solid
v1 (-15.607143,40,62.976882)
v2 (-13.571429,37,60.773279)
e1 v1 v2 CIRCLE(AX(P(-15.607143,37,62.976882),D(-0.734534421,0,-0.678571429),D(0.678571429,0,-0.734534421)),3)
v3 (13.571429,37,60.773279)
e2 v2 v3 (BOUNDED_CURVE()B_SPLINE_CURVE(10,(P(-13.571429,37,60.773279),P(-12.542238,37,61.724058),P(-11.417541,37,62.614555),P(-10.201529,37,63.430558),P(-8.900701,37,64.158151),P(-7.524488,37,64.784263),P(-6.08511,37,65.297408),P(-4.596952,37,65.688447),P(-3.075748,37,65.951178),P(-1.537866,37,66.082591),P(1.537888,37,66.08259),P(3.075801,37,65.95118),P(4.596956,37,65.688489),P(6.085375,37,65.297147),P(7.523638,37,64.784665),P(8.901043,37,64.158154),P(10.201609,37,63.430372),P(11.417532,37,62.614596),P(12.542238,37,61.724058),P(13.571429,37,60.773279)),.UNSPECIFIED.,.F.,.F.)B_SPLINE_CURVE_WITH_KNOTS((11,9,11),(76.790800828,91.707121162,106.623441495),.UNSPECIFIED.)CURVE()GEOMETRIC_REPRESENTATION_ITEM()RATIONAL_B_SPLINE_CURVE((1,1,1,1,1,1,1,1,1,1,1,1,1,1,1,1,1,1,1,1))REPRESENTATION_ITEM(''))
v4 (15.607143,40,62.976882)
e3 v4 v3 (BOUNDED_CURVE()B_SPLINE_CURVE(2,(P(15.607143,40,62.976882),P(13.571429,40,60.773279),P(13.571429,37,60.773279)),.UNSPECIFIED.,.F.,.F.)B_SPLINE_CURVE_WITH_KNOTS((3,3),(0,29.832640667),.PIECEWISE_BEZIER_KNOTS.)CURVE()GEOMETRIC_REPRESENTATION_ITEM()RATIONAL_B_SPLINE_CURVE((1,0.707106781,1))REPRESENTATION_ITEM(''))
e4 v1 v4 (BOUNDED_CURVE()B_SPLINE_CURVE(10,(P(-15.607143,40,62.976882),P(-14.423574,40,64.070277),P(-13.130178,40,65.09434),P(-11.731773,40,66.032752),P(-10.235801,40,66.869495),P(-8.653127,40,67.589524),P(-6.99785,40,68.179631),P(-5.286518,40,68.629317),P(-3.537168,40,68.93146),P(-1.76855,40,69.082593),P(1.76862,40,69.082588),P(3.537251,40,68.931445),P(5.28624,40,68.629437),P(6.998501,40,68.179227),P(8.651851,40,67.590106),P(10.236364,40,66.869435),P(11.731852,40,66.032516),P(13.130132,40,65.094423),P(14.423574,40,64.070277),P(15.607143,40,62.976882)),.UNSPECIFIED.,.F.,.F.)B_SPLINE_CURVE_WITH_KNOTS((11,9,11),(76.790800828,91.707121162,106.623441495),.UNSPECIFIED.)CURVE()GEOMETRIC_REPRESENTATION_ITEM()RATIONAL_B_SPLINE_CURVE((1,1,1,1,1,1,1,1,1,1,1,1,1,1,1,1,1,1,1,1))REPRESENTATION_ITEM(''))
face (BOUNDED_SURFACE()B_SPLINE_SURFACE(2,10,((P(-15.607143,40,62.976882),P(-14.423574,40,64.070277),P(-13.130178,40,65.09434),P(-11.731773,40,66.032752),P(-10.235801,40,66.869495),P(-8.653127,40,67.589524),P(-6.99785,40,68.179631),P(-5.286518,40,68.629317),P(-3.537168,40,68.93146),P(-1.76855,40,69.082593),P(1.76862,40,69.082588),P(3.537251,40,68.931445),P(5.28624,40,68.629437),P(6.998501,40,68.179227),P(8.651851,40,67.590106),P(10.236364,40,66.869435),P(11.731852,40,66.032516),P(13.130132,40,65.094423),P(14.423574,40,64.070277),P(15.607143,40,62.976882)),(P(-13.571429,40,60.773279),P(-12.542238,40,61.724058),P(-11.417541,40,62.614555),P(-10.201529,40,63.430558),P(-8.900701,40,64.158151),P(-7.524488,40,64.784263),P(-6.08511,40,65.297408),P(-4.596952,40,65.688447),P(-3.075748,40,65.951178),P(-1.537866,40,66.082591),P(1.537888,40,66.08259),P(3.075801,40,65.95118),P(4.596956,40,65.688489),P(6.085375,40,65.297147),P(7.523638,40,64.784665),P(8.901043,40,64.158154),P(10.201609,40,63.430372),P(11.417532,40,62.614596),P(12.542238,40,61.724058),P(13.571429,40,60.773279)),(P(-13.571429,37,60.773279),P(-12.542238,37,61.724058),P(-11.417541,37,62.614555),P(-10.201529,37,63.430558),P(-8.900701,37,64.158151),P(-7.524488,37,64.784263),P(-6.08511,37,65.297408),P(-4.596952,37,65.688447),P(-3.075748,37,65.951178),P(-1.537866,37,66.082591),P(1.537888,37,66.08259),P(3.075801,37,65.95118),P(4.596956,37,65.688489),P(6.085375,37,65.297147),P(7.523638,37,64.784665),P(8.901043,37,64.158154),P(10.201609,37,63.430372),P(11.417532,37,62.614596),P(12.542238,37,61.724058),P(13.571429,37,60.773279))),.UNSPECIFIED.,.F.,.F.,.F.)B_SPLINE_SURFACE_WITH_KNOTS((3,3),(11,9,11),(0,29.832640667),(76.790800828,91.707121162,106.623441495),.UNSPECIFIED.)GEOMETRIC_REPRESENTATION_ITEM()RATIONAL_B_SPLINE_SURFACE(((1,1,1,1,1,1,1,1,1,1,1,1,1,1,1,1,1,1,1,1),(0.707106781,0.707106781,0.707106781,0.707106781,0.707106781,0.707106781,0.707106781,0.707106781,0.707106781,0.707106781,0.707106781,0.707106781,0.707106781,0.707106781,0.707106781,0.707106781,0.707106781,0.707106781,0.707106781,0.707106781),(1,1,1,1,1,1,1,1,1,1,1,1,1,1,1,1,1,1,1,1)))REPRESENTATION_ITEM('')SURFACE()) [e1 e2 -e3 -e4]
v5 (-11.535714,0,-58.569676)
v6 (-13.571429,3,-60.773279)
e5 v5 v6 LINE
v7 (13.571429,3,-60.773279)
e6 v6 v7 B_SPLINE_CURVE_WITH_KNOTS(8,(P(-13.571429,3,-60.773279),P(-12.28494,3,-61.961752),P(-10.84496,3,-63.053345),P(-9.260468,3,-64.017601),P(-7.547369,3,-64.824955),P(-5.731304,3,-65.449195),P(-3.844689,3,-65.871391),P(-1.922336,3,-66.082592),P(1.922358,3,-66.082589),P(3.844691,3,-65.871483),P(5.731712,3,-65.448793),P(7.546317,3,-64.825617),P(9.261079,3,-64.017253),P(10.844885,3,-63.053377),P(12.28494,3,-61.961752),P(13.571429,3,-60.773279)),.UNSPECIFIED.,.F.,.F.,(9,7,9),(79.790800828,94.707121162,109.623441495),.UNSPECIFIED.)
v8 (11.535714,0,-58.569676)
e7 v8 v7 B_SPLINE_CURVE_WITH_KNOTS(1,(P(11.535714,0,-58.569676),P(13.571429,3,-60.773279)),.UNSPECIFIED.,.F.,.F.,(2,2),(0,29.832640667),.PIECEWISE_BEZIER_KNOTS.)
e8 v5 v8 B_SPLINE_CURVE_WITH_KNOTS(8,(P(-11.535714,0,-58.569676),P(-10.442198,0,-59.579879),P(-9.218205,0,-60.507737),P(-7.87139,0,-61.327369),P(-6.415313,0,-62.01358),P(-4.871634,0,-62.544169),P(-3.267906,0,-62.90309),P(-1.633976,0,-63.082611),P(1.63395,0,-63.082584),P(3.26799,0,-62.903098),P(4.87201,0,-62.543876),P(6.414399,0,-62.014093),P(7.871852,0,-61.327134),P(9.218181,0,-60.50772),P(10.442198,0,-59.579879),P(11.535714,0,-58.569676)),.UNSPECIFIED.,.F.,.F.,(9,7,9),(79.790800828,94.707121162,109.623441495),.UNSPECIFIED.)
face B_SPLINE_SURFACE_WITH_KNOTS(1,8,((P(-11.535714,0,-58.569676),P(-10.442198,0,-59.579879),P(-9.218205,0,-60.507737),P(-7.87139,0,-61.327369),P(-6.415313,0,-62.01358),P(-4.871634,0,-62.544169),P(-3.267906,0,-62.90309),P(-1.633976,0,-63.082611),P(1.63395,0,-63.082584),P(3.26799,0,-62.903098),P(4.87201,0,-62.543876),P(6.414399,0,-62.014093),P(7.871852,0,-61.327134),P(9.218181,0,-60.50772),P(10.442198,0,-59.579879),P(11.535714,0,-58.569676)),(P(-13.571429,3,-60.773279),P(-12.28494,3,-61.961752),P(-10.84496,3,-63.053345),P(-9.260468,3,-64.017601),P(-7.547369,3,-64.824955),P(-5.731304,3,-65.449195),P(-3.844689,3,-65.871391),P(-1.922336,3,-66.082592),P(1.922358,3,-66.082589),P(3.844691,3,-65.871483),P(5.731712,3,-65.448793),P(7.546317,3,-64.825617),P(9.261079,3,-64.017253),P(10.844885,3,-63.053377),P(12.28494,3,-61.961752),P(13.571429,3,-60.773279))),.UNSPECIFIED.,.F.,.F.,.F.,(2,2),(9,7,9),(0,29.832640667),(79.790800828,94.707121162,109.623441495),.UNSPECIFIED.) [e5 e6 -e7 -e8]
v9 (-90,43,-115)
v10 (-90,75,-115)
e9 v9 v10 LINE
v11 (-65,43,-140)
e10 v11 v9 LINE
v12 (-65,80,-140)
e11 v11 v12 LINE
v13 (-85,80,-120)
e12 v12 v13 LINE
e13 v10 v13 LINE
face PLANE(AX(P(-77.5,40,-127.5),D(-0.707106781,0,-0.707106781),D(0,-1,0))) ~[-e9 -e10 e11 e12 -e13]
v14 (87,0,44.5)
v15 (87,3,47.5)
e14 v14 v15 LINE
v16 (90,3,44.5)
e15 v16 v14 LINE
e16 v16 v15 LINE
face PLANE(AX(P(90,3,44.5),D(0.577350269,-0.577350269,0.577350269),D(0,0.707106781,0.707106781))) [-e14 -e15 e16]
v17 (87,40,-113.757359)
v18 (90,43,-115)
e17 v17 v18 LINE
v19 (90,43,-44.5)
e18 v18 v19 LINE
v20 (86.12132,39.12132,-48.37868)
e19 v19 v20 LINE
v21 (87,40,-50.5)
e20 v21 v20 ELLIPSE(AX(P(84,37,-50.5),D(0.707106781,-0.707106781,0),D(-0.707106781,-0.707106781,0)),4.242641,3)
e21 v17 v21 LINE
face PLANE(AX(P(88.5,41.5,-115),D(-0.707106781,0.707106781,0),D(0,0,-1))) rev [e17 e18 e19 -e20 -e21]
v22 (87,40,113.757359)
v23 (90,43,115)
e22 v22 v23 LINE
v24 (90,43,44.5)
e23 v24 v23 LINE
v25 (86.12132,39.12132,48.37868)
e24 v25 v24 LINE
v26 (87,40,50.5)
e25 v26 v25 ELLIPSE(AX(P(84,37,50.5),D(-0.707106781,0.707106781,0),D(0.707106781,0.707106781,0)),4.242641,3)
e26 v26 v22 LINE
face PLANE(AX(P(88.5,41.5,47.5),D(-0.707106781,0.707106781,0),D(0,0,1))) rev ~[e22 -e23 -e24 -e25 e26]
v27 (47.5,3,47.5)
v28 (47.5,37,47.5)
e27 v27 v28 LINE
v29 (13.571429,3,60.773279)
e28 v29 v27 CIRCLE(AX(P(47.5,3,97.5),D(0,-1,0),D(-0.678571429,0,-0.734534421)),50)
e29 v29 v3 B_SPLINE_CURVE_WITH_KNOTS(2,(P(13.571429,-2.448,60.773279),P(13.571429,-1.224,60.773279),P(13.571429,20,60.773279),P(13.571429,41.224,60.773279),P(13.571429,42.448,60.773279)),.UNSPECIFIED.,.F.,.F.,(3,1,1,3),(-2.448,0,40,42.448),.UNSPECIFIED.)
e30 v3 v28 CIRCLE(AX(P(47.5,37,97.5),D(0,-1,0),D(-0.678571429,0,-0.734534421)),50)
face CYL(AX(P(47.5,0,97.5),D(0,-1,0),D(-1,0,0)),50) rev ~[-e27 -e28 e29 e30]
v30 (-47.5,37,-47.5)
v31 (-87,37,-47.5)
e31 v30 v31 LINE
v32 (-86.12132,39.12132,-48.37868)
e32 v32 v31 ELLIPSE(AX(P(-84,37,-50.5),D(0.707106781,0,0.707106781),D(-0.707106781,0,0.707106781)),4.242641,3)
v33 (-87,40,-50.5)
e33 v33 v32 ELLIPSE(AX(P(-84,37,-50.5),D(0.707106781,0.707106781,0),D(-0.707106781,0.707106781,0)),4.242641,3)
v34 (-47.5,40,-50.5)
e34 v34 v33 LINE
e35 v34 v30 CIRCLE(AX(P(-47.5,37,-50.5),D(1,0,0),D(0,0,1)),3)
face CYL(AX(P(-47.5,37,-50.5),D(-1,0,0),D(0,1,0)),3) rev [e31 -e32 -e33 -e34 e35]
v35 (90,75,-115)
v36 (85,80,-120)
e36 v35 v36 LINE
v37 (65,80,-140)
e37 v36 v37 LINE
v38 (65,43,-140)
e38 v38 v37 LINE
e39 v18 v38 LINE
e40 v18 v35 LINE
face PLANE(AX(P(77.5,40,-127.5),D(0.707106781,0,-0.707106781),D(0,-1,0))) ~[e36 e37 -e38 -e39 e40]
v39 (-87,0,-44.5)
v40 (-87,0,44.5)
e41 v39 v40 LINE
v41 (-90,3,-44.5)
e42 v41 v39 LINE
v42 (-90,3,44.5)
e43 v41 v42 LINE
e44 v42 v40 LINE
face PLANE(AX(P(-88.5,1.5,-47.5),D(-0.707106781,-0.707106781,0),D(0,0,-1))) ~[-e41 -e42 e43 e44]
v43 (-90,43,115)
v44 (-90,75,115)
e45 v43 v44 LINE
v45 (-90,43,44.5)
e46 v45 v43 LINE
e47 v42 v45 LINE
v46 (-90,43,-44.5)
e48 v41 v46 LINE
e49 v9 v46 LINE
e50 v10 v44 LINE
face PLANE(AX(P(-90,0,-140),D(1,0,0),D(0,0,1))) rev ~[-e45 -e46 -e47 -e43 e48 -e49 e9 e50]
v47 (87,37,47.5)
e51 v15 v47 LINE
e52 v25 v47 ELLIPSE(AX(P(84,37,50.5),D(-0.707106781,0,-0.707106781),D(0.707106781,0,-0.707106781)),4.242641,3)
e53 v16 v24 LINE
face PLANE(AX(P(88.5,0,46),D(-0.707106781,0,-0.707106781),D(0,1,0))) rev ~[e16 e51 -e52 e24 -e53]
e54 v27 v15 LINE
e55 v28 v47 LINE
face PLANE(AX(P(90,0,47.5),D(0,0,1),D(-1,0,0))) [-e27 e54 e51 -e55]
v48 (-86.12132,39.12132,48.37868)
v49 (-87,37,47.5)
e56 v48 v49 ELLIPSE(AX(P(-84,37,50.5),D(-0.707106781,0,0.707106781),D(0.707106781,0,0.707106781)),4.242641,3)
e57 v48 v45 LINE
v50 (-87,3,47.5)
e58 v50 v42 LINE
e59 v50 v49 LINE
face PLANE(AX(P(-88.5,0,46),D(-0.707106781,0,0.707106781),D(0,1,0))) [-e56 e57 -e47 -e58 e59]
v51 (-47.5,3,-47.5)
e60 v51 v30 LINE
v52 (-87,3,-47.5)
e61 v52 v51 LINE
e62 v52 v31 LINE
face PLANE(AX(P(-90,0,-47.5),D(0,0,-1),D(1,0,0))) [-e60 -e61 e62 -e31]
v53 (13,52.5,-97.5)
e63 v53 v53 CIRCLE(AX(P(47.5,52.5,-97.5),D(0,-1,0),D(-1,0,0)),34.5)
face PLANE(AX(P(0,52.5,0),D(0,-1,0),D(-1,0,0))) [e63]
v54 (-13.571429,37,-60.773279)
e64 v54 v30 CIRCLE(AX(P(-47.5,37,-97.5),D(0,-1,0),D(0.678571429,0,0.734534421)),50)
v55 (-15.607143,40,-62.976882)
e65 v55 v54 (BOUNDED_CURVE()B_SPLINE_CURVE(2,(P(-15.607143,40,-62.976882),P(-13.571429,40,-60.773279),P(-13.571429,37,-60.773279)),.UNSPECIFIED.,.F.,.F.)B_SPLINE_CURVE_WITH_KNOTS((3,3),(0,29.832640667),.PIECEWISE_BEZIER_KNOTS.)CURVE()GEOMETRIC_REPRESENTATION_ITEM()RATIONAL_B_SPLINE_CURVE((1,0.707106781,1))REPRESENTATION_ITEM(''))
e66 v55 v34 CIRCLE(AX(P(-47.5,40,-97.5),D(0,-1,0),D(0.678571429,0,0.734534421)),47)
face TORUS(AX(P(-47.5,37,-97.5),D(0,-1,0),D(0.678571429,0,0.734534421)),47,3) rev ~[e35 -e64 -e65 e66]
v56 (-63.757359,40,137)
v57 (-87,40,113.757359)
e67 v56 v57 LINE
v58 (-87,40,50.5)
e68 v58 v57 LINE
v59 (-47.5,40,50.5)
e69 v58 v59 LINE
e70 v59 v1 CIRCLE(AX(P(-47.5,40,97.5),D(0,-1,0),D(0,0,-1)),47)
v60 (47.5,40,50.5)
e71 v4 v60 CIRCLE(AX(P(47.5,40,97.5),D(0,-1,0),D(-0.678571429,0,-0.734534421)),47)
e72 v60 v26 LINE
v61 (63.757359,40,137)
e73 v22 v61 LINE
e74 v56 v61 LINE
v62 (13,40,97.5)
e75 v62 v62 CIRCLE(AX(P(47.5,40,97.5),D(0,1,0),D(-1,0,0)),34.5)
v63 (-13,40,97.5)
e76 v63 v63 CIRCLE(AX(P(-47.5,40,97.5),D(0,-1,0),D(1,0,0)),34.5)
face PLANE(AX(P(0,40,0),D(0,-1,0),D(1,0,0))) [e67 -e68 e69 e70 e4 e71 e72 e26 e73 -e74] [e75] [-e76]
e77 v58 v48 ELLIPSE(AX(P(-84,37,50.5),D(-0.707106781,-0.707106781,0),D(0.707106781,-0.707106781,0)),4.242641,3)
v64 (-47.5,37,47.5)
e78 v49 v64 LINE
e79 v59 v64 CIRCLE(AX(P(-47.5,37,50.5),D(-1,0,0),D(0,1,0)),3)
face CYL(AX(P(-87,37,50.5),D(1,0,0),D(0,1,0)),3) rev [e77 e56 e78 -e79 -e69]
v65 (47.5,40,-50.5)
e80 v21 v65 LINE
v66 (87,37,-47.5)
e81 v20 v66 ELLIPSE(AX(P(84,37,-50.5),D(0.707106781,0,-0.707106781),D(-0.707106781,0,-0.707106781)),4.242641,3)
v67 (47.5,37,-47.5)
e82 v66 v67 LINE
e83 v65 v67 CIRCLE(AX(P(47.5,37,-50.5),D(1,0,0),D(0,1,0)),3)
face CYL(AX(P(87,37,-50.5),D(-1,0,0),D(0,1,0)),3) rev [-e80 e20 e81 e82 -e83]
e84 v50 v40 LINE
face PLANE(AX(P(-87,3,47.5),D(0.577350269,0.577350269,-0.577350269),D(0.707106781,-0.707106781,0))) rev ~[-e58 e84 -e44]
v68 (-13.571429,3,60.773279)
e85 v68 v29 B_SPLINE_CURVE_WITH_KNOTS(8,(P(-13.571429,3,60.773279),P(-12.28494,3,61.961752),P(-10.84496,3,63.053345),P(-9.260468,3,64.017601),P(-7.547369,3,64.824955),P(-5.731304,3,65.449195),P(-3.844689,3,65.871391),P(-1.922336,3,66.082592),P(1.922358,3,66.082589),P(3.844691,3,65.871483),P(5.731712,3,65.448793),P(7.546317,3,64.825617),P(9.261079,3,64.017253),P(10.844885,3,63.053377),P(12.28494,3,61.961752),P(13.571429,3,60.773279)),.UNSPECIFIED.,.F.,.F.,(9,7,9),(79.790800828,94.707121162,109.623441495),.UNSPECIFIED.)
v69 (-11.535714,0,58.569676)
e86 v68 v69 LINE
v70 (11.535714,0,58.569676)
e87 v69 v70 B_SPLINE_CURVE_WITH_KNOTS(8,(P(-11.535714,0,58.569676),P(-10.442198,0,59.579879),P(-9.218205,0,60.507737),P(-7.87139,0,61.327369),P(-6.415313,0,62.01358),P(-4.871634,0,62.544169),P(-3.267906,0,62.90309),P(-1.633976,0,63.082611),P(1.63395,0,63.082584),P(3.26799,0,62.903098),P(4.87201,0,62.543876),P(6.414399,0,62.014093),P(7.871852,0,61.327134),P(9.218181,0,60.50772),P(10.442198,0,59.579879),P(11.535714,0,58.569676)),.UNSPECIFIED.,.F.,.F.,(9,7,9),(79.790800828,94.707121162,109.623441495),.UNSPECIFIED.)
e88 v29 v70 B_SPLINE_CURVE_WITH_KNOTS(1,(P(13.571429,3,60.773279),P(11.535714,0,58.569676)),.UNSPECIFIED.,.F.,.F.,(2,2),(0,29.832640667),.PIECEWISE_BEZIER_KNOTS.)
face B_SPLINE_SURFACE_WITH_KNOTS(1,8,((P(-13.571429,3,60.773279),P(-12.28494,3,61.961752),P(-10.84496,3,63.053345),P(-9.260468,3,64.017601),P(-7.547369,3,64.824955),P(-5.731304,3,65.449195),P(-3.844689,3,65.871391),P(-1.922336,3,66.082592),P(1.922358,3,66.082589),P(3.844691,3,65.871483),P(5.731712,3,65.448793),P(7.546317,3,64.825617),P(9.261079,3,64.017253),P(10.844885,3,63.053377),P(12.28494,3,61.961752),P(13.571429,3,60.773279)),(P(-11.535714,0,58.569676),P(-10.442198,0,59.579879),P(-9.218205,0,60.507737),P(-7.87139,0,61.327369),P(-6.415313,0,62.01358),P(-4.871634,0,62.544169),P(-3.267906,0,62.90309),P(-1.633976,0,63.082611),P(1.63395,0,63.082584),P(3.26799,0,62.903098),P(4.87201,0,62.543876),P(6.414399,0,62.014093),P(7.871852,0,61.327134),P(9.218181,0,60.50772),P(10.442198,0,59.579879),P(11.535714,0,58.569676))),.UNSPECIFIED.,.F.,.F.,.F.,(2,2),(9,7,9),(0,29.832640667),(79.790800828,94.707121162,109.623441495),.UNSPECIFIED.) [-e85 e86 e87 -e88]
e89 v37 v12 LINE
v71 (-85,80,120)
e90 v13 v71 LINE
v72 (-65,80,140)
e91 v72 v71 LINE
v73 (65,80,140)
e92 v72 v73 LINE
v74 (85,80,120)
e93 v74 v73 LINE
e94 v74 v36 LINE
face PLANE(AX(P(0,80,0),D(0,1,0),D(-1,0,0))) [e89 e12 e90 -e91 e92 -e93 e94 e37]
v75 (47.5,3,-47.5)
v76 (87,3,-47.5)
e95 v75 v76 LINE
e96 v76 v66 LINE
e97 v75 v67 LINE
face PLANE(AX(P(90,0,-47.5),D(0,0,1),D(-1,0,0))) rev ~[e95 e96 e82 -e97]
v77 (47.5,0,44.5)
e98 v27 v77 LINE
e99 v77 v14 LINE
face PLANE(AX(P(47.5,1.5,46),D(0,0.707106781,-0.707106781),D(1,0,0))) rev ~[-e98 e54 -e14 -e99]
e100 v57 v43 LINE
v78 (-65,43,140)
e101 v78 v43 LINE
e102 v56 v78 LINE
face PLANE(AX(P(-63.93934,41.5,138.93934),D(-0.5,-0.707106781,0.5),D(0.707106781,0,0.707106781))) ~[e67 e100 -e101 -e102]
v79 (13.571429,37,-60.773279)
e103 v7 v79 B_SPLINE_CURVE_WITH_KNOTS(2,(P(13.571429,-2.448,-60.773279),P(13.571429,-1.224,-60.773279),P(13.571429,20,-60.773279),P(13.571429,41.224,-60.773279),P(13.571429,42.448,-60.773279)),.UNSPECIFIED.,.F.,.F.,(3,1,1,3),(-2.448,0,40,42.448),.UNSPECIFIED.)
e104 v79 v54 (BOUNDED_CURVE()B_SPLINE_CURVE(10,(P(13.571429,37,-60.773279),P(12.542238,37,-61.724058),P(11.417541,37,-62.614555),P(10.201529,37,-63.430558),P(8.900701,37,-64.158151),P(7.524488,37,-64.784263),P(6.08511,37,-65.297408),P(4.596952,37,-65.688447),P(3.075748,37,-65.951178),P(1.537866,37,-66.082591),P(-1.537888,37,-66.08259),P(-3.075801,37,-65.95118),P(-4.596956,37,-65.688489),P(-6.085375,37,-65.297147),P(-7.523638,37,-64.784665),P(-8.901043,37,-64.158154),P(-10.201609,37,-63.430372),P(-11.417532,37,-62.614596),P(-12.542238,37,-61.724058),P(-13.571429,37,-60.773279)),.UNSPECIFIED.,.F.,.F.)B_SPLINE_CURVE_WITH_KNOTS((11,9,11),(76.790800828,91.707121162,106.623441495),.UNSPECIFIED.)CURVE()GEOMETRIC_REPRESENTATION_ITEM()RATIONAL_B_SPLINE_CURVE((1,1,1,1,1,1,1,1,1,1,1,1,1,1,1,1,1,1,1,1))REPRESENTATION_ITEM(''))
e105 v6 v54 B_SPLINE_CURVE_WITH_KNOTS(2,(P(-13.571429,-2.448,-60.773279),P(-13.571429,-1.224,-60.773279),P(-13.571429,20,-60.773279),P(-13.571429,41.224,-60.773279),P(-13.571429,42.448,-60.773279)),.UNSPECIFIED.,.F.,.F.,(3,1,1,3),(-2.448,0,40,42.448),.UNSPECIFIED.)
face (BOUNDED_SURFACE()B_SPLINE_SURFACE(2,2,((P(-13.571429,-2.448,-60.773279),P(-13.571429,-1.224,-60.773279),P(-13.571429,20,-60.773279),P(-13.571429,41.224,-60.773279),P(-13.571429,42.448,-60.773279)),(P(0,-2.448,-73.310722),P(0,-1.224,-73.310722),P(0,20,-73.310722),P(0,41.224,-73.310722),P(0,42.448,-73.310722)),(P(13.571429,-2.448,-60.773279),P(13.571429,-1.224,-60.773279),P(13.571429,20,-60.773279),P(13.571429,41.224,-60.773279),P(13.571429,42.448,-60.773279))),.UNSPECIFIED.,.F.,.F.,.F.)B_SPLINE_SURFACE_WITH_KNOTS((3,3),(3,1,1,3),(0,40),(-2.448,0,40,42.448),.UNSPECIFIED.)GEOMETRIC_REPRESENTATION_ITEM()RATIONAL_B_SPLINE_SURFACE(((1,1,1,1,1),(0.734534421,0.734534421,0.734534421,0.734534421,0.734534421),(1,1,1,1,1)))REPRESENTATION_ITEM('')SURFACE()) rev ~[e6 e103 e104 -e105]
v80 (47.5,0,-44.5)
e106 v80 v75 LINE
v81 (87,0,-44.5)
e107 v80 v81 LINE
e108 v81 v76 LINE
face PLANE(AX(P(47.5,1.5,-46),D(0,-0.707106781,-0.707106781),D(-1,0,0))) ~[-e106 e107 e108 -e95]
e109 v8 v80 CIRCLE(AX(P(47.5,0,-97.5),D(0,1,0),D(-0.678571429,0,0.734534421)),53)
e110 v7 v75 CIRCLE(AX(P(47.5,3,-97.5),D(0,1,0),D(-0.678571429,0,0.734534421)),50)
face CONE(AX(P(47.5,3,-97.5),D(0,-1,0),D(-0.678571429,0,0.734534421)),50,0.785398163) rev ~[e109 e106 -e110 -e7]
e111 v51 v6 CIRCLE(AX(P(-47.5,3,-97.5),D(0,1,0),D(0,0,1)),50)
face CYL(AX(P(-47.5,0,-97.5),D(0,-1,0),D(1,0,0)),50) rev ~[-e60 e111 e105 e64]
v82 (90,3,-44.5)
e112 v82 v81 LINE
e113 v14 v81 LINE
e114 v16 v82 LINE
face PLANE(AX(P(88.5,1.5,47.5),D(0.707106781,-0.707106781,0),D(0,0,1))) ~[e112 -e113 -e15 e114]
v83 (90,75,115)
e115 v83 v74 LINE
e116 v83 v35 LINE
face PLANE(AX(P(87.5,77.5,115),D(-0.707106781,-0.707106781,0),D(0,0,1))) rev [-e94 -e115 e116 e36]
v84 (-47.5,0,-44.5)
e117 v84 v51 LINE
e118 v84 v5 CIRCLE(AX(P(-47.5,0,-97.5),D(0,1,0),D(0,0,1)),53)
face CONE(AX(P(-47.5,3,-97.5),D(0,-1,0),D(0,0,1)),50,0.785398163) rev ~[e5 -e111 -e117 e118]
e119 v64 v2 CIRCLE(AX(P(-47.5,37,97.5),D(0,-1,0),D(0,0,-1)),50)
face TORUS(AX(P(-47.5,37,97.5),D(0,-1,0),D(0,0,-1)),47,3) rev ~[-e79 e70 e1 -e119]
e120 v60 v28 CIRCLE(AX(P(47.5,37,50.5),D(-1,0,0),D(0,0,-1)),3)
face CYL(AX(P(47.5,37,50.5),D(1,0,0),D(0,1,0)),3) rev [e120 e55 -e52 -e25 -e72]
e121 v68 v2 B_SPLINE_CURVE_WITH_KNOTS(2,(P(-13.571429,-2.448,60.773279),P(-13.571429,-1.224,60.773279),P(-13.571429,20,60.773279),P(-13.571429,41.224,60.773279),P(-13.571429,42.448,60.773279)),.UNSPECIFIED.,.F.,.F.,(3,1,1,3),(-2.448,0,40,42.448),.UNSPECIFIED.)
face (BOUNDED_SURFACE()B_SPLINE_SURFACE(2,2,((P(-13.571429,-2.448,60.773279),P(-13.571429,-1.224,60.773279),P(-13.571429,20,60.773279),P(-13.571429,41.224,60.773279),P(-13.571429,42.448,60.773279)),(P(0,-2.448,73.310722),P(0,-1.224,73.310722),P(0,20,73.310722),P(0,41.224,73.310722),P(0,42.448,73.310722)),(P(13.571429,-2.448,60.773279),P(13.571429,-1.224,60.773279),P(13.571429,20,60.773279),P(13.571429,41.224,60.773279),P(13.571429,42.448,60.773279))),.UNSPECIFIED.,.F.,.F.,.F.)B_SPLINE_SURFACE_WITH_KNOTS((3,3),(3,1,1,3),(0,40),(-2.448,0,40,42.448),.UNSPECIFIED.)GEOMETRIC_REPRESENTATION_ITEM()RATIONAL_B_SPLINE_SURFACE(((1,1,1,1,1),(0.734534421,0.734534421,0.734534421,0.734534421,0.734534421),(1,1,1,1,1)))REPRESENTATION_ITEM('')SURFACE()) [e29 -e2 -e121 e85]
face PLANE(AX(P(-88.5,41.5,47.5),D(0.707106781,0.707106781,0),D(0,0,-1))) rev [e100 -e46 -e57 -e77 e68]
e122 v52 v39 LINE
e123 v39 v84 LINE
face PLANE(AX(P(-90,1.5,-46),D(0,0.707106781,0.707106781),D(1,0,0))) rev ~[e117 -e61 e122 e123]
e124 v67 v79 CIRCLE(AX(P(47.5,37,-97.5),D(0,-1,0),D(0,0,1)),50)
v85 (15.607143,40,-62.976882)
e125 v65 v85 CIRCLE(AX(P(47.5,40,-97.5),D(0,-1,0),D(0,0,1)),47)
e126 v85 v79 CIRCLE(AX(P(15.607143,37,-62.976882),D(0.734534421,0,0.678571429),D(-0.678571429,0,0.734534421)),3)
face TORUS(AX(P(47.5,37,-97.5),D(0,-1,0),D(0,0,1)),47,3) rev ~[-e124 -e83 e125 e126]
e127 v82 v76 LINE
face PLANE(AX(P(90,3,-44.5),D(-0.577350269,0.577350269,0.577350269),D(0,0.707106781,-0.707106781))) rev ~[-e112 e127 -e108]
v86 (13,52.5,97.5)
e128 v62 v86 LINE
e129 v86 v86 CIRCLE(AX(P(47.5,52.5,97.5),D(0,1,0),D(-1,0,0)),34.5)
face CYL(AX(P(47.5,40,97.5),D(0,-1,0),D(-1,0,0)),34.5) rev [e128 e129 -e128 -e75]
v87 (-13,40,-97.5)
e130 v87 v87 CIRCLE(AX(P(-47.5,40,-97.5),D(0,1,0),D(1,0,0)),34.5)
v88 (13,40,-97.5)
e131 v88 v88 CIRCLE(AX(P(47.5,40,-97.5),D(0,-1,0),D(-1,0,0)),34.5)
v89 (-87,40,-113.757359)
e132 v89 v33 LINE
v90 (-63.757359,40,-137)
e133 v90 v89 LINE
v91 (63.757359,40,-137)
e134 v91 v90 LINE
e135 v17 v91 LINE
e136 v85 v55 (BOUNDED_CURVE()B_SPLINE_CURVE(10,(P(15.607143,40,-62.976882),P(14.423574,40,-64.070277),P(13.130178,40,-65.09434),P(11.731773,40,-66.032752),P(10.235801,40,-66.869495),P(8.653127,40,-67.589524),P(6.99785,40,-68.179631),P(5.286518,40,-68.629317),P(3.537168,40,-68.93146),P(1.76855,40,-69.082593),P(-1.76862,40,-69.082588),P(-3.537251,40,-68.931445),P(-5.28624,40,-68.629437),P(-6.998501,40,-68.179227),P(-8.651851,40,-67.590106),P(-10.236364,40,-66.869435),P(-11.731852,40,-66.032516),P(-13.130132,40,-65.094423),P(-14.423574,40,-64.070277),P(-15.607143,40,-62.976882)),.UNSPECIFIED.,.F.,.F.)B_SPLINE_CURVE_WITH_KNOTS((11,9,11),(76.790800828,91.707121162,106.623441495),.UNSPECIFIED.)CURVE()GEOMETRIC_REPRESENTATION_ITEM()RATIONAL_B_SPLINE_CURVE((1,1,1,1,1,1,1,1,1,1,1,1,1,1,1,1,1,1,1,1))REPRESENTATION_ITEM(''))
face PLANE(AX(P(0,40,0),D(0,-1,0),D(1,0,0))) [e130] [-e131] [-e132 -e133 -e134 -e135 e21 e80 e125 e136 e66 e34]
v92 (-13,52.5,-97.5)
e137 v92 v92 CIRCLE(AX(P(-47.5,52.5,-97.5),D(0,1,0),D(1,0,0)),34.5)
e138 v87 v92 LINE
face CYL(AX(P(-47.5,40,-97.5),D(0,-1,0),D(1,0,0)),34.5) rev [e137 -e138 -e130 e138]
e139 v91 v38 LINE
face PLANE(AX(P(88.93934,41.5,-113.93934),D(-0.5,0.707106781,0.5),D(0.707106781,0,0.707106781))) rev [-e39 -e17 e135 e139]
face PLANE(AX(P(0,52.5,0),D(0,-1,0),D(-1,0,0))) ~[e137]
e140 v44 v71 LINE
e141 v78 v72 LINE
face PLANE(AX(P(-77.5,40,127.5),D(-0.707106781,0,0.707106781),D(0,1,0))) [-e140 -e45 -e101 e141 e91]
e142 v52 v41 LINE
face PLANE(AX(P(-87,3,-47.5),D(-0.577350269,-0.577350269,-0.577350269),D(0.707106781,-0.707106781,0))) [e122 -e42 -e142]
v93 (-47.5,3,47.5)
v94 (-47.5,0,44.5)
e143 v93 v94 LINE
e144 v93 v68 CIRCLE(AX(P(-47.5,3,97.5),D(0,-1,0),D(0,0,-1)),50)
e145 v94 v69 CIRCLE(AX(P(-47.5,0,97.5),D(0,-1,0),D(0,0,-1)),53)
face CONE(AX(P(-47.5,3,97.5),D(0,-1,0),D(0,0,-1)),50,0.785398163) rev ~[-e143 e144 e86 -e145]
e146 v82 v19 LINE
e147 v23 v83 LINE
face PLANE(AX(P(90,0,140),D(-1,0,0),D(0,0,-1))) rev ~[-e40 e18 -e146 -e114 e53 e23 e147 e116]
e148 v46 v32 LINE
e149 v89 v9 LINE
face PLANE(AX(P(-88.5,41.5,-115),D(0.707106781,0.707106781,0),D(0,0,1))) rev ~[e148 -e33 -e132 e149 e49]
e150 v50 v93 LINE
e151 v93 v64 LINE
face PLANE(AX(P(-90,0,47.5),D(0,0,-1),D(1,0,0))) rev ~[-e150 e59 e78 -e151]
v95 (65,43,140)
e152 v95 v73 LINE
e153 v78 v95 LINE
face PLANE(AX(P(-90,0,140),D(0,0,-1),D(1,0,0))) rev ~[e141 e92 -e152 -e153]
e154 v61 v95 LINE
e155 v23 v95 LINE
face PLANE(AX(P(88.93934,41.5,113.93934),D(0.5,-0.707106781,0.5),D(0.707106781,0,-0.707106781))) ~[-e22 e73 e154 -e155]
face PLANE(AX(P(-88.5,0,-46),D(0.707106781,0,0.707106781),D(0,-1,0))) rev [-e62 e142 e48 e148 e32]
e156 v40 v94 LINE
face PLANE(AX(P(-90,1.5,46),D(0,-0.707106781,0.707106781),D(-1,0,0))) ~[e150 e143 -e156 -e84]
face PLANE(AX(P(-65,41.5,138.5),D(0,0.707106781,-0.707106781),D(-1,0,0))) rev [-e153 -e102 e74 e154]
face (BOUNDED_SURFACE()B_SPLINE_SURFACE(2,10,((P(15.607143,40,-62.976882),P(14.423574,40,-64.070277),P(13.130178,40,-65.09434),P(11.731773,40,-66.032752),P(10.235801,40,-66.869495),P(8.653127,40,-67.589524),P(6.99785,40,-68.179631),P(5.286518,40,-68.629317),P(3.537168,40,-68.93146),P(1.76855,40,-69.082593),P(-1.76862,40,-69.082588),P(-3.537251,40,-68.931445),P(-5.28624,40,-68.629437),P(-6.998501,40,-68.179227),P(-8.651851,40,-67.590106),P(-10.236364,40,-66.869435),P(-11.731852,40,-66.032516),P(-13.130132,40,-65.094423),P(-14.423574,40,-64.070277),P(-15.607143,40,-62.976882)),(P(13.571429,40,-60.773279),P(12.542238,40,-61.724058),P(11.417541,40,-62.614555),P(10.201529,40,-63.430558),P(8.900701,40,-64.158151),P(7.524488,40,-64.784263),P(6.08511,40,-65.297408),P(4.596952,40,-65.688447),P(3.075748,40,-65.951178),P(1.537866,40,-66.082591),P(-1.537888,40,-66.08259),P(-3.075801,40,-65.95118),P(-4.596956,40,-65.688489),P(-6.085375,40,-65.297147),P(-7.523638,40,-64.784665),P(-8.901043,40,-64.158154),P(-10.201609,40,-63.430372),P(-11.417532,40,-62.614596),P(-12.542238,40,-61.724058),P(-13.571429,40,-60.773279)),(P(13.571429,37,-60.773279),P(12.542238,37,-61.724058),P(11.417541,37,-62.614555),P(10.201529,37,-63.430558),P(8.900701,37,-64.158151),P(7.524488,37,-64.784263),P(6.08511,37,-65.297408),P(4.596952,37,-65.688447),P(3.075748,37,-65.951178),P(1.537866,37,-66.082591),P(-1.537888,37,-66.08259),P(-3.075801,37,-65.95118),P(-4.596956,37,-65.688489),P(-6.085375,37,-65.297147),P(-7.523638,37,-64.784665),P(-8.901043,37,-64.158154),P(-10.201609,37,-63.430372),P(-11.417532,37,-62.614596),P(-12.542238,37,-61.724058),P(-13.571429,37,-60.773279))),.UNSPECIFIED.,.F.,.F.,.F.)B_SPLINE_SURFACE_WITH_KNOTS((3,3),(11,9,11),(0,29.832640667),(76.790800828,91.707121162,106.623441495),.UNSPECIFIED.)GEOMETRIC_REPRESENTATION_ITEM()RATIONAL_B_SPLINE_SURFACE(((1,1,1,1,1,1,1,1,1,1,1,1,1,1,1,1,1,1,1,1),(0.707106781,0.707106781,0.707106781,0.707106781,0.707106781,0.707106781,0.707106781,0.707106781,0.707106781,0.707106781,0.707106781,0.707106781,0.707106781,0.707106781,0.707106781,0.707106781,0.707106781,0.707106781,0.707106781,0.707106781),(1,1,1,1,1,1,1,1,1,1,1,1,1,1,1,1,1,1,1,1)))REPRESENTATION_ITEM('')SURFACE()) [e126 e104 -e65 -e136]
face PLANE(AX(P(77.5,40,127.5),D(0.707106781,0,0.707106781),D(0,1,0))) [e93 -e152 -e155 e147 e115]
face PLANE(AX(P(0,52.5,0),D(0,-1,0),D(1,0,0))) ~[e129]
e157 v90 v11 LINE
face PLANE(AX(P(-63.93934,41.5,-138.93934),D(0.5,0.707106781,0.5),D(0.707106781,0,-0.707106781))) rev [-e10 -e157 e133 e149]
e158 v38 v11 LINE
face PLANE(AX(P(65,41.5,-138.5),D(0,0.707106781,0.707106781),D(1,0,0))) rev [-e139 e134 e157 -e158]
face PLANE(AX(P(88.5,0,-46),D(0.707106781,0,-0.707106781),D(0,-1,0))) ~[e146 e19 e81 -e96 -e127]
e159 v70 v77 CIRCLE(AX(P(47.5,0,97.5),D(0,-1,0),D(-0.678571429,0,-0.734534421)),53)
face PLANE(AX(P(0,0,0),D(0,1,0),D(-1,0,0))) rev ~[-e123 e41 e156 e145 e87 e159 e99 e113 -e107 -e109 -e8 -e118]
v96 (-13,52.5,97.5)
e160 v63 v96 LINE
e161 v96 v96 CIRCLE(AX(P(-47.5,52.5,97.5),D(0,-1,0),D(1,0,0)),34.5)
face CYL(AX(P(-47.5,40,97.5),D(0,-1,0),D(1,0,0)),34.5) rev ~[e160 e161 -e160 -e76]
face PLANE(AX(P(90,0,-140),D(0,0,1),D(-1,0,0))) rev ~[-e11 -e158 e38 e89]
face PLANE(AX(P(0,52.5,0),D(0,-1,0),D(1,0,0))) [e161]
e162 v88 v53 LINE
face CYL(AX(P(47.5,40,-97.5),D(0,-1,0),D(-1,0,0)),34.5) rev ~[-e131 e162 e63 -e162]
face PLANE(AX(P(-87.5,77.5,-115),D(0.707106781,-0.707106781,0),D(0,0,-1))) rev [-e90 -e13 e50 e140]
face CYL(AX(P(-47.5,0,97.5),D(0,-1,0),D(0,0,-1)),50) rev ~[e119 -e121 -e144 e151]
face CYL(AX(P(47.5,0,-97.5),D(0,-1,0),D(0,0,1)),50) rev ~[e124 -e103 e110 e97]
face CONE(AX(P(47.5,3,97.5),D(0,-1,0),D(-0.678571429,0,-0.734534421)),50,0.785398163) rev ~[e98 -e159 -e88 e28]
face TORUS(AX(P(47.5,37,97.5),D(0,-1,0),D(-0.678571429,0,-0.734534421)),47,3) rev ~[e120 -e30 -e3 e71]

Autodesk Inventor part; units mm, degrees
ref_plane "YZ Plane" through (0, 0, 0) normal (1, 0, 0) x (0, 1, 0)
ref_plane "XZ Plane" through (0, 0, 0) normal (0, 1, 0) x (-1, 0, 0)
ref_plane "XY Plane" through (0, 0, 0) normal (0, 0, 1) x (1, 0, 0)
sketch "Sketch1" plane through (0, 0, 0) normal (0, 1, 0) x (-1, 0, 0)
  line L0 (-90, -140) -> (90, -140)
  line L1 (90, -140) -> (90, 140)
  line L2 (90, 140) -> (-90, 140)
  line L3 (-90, 140) -> (-90, -140)
  line L4 (-90, -140) -> (90, 140) construction
  line L5 (90, -140) -> (-90, 140) construction
  point P0 (0, 0)
  dimension "d0" = 280
  dimension "d1" = 180
extrude "Extrusion1" add sketch "Sketch1" along normal blind 80
sketch "Sketch2" plane through (0, 0, 0) normal (0, -1, 0) x (1, 0, 0)
  arc A0 (-47.5, 47.5) -> (2.5, 97.5) centre (-47.5, 97.5) ccw
  line L0 (0, 150) -> (0, -153.5615) construction
  line L1 (-95.9498, 0) -> (75.0535, 0) construction
  line L2 (2.5, 97.5) -> (2.5, 140)
  line L3 (-90, 47.5) -> (-47.5, 47.5)
  line L4 (-90, -140) -> (-90, 140) projected
  line L5 (-90, 47.5) -> (-90, 140)
  line L6 (-90, 140) -> (90, 140) projected
  line L7 (2.5, 140) -> (-90, 140)
  arc A1 (-2.5, 97.5) -> (47.5, 47.5) centre (47.5, 97.5) ccw
  line L8 (-2.5, 97.5) -> (-2.5, 140)
  line L9 (90, 47.5) -> (47.5, 47.5)
  line L10 (90, -140) -> (90, 140)
  line L11 (90, 140) -> (-90, 140)
  arc A2 (2.5, -97.5) -> (-47.5, -47.5) centre (-47.5, -97.5) ccw
  line L12 (2.5, -97.5) -> (2.5, -140)
  line L13 (-90, -47.5) -> (-47.5, -47.5)
  line L14 (-90, 140) -> (-90, -140)
  line L15 (-90, -140) -> (90, -140)
  line L16 (90, 140) -> (90, -140)
  line L17 (90, -47.5) -> (47.5, -47.5)
  arc A3 (47.5, -47.5) -> (-2.5, -97.5) centre (47.5, -97.5) ccw
  line L18 (-2.5, -97.5) -> (-2.5, -140)
  circle A4 centre (-47.5, 97.5) radius 34.5
  circle A5 centre (-47.5, 97.5) radius 42 construction
  line L19 (-89.5, 97.5) -> (-5.5, 97.5) construction
  line L20 (-47.5, 139.5) -> (-47.5, 55.5) construction
  line L21 (-77.1985, 127.1985) -> (-17.8015, 67.8015) construction
  line L22 (-17.8015, 127.1985) -> (-77.1985, 67.8015) construction
  point P0 (0, 0)
  point P1 (-2.5, -140)
  point P2 (90, -47.5)
  point P3 (-90, -47.5)
  point P4 (-2.5, 140)
  point P5 (75, -50)
  point P6 (-75, -50)
  dimension "d15" = 84
  dimension "d7" = 90
  dimension "d11" = 50
  dimension "d14" = 69
  dimension "d16" = 45
  dimension "d17" = 45
  dimension "d35" = 42.5
  dimension "d36" = 42.5
extrude "Extrusion2" cut sketch "Sketch2" against normal blind 40 contours L3 L4 L6 L8 A1 A0 | A1 L8 L6 L2 A0 | A0 L2 L6 L10 L9 A1 | L13 A2 A3 L18 L15 L4 | L10 L15 L12 A2 A3 L17 | L18 A3 A2 L12 L15 | A4
extrude "Extrusion3" cut sketch "Sketch2" against normal blind 12.5 from surface at -40 contours A4
mirror "Mirror1" about plane through (0, 0, 0) normal (0, 0, 1) of "Extrusion3"
mirror "Mirror2" about plane through (0, 0, 0) normal (1, 0, 0) of "Extrusion3", "Mirror1"
chamfer "Chamfer1" distance 25 angle 45 4 edges at (90, 60, 140) (-90, 60, 140) (90, 60, -140) (-90, 60, -140)
fillet "Fillet1" radius 20 2 edges at (0, 20, 81.8875) (0, 20, -81.8875)
chamfer "Chamfer2" distance 3 angle 45 26 edges at (0, 40, -140) (77.5, 40, -127.5) (90, 40, -81.25) (-77.5, 40, -127.5) (-90, 40, -81.25) (90, 40, 81.25) (77.5, 40, 127.5) (0, 40, 140) (-77.5, 40, 127.5) (-90, 40, 81.25) (-90, 0, 0) (-90, 20, 47.5) (-90, 20, -47.5) (-68.75, 0, -47.5) (-29.2837, 0, -50.9364) (0, 0, -66.0826) (29.2837, 0, -50.9364) (68.75, 0, -47.5) (-68.75, 0, 47.5) (-29.2837, 0, 50.9364) (0, 0, 66.0826) (29.2837, 0, 50.9364) (68.75, 0, 47.5) (90, 0, 0) (90, 20, -47.5) (90, 20, 47.5)
fillet "Fillet2" radius 3 8 edges at (29.2837, 40, -50.9364) (-29.2837, 40, -50.9364) (-67.25, 40, -47.5) (67.25, 40, -47.5) (29.2837, 40, 50.9364) (-29.2837, 40, 50.9364) (-67.25, 40, 47.5) (67.25, 40, 47.5)
chamfer "Chamfer4" distance 5 angle 45 2 edges at (90, 80, 0) (-90, 80, 0)
